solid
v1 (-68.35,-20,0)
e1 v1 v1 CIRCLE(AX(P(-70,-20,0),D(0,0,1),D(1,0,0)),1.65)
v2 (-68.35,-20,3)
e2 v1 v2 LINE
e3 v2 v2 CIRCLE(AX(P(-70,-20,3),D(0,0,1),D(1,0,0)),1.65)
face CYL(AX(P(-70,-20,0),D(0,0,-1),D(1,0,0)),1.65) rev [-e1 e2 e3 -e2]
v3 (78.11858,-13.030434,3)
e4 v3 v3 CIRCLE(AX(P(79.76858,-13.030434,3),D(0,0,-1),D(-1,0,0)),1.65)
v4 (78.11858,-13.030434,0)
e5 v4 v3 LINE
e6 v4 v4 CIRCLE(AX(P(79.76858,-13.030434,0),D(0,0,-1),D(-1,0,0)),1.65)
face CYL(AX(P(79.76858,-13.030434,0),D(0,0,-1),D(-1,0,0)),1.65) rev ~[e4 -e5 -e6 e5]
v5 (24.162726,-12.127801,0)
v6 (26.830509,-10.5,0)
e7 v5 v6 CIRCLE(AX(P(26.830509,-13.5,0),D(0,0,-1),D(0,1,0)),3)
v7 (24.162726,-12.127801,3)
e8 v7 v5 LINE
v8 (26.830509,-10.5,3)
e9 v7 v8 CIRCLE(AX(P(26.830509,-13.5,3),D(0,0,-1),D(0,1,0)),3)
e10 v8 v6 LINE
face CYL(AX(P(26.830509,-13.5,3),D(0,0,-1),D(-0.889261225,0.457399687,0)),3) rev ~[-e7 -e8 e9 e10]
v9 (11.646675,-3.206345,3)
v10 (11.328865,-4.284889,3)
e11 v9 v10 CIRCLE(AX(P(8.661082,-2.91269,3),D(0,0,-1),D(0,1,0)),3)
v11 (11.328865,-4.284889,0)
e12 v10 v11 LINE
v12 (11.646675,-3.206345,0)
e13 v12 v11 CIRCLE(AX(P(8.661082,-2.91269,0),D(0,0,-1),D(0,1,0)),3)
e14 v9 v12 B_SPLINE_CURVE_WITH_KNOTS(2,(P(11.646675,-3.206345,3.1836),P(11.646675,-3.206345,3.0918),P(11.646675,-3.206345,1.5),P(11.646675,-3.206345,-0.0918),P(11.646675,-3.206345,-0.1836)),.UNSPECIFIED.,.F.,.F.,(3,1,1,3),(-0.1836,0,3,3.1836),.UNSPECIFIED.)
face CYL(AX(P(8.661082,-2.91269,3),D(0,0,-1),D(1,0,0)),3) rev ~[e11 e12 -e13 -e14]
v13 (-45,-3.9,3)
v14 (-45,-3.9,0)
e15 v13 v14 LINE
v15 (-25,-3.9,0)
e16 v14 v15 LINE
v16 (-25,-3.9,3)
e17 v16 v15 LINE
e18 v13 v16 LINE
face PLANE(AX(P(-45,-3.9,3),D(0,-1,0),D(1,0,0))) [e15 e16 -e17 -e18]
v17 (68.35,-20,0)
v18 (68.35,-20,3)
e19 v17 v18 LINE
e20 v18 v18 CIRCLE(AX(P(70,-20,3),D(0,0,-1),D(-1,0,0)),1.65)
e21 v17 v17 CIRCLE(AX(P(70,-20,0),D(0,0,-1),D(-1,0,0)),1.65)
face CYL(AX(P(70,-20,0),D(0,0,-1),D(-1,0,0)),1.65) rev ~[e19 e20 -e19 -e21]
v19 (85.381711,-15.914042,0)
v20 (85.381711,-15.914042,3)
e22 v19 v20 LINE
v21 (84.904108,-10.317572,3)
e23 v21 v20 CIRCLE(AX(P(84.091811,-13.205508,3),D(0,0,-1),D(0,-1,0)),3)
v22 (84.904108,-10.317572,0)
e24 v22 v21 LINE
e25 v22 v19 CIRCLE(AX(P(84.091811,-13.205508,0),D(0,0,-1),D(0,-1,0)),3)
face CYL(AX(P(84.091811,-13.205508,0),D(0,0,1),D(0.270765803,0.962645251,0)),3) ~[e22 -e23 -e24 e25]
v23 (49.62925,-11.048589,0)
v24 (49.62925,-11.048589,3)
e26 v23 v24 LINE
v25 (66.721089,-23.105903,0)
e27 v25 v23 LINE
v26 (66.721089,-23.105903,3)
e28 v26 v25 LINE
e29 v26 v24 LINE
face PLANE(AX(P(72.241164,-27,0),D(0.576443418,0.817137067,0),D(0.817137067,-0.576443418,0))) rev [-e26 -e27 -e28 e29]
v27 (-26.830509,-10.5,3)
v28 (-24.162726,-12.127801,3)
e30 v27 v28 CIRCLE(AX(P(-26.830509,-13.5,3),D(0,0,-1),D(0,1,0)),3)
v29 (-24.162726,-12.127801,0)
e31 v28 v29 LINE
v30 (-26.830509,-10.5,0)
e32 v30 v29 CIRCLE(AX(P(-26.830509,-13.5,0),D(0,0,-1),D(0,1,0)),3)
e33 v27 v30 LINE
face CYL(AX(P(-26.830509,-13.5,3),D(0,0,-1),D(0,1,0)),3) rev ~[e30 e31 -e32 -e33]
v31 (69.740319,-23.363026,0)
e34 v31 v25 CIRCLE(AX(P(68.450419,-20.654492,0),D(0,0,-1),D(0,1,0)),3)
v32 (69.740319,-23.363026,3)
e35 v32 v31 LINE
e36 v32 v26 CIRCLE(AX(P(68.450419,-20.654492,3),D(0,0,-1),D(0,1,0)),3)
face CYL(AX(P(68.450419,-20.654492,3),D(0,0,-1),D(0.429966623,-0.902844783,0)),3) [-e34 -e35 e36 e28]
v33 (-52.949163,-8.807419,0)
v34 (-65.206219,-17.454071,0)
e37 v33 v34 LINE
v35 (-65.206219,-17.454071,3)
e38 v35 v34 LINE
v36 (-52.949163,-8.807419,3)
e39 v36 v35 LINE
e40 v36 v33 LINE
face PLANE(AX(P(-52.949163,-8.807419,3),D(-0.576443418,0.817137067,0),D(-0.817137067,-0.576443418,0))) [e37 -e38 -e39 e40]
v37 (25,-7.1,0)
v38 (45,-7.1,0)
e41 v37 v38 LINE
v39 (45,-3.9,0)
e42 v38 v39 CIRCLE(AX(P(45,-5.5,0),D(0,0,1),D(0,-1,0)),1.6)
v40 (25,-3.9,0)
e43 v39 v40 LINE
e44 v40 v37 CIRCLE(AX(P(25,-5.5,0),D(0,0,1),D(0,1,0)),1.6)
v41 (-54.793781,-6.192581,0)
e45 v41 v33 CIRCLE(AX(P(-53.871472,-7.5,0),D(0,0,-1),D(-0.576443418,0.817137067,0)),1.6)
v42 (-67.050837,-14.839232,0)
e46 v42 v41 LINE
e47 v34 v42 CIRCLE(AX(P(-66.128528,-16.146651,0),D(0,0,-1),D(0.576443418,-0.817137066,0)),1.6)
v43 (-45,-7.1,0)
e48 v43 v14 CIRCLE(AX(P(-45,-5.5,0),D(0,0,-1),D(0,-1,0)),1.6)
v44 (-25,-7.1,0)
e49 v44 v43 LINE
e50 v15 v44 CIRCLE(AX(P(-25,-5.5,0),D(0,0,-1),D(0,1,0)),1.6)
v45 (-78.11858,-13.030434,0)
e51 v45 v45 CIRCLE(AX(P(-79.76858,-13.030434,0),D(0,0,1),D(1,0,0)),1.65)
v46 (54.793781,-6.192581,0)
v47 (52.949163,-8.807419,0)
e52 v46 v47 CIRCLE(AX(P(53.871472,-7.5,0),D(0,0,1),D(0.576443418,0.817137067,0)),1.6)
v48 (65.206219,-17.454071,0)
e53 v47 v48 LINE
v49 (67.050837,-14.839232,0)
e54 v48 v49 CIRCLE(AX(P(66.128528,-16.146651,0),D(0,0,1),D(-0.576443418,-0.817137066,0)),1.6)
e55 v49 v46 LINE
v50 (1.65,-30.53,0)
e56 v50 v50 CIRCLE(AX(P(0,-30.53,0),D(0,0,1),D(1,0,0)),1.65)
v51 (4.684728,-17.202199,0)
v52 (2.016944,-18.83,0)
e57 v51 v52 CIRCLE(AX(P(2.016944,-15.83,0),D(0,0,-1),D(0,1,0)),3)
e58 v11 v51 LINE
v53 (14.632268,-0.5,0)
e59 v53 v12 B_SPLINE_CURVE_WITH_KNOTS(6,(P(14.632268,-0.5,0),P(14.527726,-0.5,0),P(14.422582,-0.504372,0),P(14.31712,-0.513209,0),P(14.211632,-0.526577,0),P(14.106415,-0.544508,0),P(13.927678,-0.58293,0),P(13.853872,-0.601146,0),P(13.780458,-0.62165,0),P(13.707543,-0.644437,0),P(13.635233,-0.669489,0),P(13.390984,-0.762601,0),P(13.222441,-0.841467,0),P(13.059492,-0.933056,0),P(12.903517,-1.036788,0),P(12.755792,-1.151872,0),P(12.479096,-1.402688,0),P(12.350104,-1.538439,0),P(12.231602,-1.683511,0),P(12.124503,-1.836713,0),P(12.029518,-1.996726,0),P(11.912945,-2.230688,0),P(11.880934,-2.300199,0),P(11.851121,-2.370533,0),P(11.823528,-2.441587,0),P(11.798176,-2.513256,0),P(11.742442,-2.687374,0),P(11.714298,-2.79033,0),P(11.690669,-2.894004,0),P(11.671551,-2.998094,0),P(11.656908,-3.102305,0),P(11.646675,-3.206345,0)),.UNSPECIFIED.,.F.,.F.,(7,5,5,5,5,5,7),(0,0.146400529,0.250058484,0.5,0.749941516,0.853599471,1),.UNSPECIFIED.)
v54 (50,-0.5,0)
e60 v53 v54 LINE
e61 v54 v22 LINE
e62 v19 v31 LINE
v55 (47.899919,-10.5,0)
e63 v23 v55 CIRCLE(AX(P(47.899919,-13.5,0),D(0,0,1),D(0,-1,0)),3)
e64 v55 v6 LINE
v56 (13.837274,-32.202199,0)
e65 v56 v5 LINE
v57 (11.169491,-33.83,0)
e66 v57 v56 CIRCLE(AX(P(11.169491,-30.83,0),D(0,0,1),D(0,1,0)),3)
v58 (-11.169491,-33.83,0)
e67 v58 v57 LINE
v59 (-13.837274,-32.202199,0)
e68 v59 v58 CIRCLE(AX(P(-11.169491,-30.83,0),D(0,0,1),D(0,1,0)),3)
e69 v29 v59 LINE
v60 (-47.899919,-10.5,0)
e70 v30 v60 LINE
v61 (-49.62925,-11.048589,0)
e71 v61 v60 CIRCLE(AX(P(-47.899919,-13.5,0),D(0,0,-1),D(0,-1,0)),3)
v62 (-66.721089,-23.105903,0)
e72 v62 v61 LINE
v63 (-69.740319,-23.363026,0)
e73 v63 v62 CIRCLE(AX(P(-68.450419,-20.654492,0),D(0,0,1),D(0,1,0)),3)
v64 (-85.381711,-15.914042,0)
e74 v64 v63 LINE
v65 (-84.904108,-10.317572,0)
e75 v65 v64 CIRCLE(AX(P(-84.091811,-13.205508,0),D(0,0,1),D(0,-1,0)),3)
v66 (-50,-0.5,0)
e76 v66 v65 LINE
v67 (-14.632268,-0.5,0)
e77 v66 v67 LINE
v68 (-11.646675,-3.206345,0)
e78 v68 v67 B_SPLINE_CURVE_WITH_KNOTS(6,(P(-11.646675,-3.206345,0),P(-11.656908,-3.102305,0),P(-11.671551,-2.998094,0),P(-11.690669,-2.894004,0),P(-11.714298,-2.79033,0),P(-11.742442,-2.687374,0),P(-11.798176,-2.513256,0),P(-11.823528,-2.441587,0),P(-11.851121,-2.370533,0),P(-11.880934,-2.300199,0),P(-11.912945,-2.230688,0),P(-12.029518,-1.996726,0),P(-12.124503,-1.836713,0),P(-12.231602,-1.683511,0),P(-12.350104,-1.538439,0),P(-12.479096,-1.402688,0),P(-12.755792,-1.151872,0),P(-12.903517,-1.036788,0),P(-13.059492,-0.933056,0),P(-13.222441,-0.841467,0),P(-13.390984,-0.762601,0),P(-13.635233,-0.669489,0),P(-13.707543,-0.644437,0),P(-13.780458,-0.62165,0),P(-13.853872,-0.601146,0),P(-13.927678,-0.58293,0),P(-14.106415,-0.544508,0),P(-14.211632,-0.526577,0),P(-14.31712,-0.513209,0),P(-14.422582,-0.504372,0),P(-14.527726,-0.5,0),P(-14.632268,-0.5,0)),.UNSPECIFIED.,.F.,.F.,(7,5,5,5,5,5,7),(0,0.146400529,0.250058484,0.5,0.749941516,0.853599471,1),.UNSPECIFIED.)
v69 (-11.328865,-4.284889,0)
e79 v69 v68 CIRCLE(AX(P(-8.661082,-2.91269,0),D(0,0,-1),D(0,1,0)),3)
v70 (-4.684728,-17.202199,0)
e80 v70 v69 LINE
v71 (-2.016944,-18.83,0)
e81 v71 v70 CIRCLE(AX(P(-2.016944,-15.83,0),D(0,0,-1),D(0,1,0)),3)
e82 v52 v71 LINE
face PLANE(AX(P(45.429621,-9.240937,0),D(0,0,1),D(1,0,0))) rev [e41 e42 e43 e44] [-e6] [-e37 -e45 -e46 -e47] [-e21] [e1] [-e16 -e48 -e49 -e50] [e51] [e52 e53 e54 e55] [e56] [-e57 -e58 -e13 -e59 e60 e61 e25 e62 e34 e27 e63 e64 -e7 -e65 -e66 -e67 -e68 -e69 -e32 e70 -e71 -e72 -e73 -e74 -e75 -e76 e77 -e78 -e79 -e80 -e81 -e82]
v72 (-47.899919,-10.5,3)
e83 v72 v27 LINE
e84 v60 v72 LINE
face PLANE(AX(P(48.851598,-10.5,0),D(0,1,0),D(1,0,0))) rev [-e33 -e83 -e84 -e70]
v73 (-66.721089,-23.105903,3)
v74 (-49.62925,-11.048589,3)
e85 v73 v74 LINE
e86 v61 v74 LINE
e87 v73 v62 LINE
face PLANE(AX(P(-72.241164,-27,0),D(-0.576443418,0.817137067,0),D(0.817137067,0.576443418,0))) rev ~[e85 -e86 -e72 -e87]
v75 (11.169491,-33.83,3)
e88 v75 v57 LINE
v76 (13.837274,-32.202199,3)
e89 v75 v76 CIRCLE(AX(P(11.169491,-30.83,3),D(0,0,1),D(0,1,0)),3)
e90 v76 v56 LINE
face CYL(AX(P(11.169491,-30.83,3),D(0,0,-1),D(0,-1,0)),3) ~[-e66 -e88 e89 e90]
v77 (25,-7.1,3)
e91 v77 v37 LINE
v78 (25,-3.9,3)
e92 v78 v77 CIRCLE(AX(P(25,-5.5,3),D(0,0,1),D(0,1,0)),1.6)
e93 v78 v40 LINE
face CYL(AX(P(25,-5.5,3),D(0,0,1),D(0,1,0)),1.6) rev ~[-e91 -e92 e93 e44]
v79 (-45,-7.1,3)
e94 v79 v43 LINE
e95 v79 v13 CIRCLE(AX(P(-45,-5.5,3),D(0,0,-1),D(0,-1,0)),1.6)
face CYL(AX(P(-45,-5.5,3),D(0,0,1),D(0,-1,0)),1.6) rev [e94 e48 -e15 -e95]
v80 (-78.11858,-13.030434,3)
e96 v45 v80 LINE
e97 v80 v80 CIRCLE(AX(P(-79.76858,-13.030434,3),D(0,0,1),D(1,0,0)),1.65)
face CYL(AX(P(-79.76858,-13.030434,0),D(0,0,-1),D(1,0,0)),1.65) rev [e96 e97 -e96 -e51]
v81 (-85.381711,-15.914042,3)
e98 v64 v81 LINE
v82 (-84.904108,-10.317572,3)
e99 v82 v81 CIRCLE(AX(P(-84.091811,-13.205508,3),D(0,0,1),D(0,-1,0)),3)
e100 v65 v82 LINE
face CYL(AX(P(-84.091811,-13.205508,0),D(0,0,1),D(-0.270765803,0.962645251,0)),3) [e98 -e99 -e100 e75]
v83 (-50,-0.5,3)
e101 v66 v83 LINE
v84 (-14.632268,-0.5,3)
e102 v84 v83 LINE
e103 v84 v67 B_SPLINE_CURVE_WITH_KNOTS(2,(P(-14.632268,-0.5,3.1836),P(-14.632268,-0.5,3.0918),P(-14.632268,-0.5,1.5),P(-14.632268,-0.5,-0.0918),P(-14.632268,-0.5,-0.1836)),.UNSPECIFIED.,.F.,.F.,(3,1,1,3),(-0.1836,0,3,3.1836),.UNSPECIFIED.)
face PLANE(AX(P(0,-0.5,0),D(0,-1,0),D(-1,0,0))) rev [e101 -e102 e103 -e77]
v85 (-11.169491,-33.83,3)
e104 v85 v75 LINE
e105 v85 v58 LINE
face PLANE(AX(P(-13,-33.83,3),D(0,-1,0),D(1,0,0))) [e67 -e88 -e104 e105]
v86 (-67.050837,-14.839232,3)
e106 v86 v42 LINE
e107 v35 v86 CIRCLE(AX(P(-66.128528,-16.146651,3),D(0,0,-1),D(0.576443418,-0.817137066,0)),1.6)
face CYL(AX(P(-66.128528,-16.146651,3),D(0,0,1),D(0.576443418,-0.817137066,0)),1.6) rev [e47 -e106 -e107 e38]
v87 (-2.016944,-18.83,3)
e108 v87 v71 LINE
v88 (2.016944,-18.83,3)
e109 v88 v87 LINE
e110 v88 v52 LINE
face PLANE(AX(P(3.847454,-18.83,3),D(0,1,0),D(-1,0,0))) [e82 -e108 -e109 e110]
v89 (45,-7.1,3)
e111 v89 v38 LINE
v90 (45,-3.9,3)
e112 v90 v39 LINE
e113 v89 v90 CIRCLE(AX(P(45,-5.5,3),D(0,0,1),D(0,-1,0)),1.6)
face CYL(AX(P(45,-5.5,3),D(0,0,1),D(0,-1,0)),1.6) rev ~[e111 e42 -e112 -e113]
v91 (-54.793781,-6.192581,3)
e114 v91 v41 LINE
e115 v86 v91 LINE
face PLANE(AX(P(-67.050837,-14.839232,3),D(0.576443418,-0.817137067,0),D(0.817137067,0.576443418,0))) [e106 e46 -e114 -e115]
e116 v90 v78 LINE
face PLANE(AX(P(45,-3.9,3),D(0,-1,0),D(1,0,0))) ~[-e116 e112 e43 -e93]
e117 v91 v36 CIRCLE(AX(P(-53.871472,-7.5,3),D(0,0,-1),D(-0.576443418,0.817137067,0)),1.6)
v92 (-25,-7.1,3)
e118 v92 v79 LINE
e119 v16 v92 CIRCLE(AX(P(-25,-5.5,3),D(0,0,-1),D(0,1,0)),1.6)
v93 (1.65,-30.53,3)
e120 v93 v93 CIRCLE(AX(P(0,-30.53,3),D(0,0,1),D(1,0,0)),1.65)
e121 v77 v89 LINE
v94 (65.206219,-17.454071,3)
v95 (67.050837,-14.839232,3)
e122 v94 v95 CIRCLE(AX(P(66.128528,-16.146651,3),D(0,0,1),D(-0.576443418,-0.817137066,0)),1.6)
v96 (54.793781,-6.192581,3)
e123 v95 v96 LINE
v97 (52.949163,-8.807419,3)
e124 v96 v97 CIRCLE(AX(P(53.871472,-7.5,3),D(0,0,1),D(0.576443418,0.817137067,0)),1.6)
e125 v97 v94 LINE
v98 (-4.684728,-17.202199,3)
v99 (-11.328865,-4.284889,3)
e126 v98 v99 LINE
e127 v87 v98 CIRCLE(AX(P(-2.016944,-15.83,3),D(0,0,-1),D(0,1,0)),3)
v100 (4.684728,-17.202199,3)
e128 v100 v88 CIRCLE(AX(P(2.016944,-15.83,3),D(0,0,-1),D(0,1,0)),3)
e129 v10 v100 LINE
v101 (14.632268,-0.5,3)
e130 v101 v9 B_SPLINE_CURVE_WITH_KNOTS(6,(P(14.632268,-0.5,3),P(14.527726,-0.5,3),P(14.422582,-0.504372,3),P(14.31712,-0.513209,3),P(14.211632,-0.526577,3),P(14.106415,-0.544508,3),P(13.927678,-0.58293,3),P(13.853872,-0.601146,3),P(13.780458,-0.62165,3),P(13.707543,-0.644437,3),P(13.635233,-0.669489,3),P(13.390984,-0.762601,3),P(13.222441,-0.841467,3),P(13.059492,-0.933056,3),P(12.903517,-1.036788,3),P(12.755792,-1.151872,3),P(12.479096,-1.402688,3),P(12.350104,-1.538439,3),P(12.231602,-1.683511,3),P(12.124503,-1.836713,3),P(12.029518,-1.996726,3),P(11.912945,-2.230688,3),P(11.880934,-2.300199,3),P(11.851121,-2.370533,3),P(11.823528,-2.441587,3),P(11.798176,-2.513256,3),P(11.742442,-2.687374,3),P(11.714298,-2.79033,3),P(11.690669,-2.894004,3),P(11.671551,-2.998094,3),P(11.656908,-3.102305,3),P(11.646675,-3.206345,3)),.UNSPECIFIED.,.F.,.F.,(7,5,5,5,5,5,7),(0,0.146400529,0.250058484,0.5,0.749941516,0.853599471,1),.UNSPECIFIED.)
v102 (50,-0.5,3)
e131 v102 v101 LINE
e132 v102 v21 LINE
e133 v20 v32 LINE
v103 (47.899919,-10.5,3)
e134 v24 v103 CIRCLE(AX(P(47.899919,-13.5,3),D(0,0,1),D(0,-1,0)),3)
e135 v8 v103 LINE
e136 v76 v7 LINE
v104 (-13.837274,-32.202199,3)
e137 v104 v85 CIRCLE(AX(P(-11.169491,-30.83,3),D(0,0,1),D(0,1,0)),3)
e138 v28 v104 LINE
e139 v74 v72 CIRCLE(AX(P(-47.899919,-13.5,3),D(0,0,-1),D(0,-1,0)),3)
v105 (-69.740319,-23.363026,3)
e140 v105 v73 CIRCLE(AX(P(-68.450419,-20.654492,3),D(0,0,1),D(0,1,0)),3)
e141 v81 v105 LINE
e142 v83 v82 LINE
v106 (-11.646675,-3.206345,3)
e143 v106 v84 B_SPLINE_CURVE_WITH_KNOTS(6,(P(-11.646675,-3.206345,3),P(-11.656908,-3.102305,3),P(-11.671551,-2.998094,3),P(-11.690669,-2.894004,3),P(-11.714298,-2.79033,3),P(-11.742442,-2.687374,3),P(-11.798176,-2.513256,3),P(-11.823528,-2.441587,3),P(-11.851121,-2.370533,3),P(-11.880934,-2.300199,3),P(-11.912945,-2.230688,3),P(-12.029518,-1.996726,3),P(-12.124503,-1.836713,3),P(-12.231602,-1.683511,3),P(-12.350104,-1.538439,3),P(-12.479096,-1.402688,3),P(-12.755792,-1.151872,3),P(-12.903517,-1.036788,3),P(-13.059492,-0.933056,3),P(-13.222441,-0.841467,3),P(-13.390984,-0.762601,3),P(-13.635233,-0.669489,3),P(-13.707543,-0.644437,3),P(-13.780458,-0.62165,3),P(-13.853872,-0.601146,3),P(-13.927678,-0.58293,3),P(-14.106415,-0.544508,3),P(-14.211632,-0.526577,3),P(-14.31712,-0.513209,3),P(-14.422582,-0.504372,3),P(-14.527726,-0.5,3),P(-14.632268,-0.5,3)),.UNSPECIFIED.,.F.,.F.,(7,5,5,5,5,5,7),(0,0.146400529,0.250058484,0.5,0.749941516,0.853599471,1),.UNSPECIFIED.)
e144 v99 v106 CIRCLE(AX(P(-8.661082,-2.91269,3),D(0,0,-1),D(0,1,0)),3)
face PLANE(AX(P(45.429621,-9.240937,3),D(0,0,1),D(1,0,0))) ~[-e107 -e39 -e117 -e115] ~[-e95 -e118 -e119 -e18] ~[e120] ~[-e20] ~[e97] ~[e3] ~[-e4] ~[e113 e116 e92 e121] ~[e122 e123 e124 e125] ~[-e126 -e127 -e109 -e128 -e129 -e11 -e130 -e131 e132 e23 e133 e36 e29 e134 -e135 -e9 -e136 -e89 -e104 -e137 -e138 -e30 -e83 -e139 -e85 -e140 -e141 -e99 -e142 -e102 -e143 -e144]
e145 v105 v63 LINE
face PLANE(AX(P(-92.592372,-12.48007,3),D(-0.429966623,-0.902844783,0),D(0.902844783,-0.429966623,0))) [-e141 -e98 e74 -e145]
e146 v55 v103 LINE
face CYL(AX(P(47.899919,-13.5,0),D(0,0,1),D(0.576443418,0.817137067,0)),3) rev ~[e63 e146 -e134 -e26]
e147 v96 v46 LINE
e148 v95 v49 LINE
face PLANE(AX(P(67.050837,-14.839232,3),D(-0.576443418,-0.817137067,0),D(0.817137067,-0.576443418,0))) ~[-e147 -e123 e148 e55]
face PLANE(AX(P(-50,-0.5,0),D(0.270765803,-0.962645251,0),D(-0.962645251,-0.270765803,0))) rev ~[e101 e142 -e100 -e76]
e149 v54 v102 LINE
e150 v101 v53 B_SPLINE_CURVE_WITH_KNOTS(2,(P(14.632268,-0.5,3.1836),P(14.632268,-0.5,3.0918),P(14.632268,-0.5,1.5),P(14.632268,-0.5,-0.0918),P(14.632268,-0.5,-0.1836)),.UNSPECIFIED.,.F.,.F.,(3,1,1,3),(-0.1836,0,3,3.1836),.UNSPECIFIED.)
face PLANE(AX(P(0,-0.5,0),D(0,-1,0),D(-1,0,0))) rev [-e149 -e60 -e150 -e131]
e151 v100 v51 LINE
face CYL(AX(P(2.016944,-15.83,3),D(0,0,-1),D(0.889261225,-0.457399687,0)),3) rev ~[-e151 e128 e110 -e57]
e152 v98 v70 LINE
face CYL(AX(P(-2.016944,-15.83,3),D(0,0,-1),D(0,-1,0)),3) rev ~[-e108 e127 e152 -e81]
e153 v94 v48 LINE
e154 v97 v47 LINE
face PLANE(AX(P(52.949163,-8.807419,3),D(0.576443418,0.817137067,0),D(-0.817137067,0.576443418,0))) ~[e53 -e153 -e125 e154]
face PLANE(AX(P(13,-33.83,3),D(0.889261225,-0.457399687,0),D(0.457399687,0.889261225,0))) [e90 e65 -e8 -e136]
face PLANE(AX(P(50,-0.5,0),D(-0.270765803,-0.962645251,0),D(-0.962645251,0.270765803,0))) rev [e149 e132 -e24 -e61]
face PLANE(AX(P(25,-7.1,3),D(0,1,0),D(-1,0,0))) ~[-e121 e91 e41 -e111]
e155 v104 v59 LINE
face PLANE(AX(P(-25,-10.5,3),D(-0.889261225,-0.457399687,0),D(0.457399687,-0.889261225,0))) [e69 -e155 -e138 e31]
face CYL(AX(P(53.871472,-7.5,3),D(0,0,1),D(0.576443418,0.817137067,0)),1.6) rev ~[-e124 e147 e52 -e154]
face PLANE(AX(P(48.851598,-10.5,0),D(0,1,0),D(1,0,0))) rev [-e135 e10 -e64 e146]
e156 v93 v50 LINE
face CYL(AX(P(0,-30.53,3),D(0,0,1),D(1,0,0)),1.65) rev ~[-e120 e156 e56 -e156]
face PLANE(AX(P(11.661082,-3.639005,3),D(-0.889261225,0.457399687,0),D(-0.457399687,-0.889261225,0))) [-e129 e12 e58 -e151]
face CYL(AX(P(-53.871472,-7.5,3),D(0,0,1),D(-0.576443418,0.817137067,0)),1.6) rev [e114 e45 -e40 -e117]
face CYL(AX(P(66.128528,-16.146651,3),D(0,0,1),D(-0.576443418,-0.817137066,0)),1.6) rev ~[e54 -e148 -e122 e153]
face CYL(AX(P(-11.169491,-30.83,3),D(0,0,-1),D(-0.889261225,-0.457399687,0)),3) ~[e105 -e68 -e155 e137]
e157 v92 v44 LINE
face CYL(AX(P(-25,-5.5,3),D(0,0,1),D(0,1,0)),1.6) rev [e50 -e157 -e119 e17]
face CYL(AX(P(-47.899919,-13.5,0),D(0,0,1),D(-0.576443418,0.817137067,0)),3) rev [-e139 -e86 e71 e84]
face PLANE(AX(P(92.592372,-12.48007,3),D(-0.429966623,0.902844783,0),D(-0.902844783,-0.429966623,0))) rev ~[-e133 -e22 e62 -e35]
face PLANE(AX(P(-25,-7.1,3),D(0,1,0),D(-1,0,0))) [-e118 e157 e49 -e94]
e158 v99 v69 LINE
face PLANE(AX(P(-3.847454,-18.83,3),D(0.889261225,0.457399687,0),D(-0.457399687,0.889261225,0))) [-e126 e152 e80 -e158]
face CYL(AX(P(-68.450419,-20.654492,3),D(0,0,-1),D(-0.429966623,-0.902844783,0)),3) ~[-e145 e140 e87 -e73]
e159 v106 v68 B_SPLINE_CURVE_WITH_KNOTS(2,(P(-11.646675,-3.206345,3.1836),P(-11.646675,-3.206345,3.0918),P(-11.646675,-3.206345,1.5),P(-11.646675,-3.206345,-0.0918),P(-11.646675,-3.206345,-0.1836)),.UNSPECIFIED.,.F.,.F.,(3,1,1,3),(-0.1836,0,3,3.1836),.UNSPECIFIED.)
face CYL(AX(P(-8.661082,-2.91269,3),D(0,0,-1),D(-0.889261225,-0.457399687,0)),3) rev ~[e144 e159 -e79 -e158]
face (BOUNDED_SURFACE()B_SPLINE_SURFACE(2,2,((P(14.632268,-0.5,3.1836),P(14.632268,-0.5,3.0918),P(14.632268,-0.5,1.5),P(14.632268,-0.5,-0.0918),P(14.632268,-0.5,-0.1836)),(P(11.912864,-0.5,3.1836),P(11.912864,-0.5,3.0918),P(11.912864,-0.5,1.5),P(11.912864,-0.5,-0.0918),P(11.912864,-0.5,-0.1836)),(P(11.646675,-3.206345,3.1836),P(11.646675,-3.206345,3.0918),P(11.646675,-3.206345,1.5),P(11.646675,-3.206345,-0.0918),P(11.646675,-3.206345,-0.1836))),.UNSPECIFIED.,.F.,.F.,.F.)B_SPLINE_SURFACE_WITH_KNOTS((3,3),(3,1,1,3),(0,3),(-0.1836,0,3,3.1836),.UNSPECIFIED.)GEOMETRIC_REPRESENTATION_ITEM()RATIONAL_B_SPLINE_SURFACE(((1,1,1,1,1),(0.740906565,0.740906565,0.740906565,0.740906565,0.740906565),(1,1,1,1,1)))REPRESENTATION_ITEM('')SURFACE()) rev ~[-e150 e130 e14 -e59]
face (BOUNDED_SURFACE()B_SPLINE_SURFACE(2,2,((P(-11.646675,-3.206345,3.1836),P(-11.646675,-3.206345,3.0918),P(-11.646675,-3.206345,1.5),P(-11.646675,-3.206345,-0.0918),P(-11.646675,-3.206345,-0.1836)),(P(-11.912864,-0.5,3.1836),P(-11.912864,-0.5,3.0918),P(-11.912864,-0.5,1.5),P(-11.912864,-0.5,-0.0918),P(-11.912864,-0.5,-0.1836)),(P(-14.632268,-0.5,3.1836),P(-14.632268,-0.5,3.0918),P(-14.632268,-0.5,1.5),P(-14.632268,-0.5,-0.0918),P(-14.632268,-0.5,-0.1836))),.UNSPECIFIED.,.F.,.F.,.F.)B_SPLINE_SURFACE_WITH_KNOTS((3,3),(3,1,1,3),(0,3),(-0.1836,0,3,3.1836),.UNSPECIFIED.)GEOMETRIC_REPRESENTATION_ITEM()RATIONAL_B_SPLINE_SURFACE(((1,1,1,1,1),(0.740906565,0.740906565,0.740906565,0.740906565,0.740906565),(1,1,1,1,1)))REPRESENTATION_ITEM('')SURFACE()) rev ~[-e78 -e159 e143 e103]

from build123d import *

# Parameters (mm, degrees)
SKETCH_1_R          = 1.65
EXTRUDE_1_DEPTH     = 3
CUT_EXTRUDE_1_DEPTH = 3
EXTRUDE_2_DEPTH     = 3
CUT_EXTRUDE_2_DEPTH = 3
FILLET_1_R          = 3
FILLET_2_R          = 3
SKETCH_7_R          = 1.65
CUT_EXTRUDE_4_DEPTH = 10
CUT_EXTRUDE_3_DEPTH = 3


with BuildPart() as part:
    # 草图1 → 凸台-拉伸1 (new body)
    with BuildSketch(Plane.XY):
        Polygon((-92.59237164, -12.480070197), (-72.241164341, -27), (-48.851597939, -10.5), (0, -10.5), (0, -0.5), (-50, -0.5), align=None)
        with Locations((-79.768579503, -13.030433694)):
            Circle(SKETCH_1_R, mode=Mode.SUBTRACT)
        with Locations((-70, -20)):
            Circle(SKETCH_1_R, mode=Mode.SUBTRACT)
    extrude(amount=EXTRUDE_1_DEPTH)

    # 镜向1: part across plane


with BuildPart() as part_1:
    add(part.part)
    add(part.part.mirror(Plane(origin=(0, -0.5, 3), x_dir=(0, 0, 1), z_dir=(-1, 0, 0))))

    # 草图2 → 切除-拉伸1 (cut)
    with BuildSketch(Plane.XY.offset(3)):
        Polygon((-92.59237164, -12.480070197), (-68.155479007, -24.11778291), (-72.241164341, -27), align=None)
        Polygon((92.59237164, -12.480070197), (68.155479007, -24.11778291), (72.241164341, -27), align=None)
    extrude(amount=-CUT_EXTRUDE_1_DEPTH, mode=Mode.SUBTRACT)

    # 草图3 → 凸台-拉伸2 (add)
    with BuildSketch(Plane.XY.offset(3)):
        Polygon((-25, -10.5), (-13, -33.83), (13, -33.83), (25, -10.5), align=None)
    extrude(amount=-EXTRUDE_2_DEPTH)

    # 草图4 → 切除-拉伸2 (cut)
    with BuildSketch(Plane.XY.offset(3)):
        Polygon((-11.661081625, -3.639004694), (-11.661081625, -0.5), (11.661081625, -0.5), (11.661081625, -3.639004694), (3.847453521, -18.83), (-3.847453521, -18.83), align=None)
    extrude(amount=-CUT_EXTRUDE_2_DEPTH, mode=Mode.SUBTRACT)

    # 圆角1
    fillet_1_edges = [part_1.edges().sort_by_distance(p)[0] for p in [
        (-48.851597939, -10.5, 1.5),
        (-92.59237164, -12.480070197, 1.5),
        (92.59237164, -12.480070197, 1.5),
        (48.851597939, -10.5, 1.5),
        (-68.155479007, -24.11778291, 1.5),
        (68.155479007, -24.11778291, 1.5),
        (-13, -33.83, 1.5),
        (13, -33.83, 1.5),
        (25, -10.5, 1.5),
        (-25, -10.5, 1.5),
        (11.661081625, -3.639004694, 1.5),
        (3.847453521, -18.83, 1.5),
        (-3.847453521, -18.83, 1.5),
        (-11.661081625, -3.639004694, 1.5),
    ]]
    fillet(fillet_1_edges, radius=FILLET_1_R)

    # 圆角2
    fillet_2_edges = [part_1.edges().sort_by_distance(p)[0] for p in [
        (11.661081625, -0.5, 1.5),
        (-11.661081625, -0.5, 1.5),
    ]]
    fillet(fillet_2_edges, radius=FILLET_2_R)

    # 草图7 → 切除-拉伸4 (cut)
    with BuildSketch(Plane.XY.offset(3)):
        with Locations((0, -30.53)):
            Circle(SKETCH_7_R)
    extrude(amount=-CUT_EXTRUDE_4_DEPTH, mode=Mode.SUBTRACT)

    # 草图5 → 切除-拉伸3 (cut)
    with BuildSketch(Plane.XY.offset(3)):
        with BuildLine():
            Line((-45, -3.9), (-25, -3.9))
            ThreePointArc((-25, -3.9), (-23.4, -5.5), (-25, -7.1))
            Line((-25, -7.1), (-45, -7.1))
            ThreePointArc((-45, -7.1), (-46.6, -5.5), (-45, -3.9))
        make_face()
        with BuildLine():
            Line((-67.050837469, -14.839231963), (-54.793781468, -6.192580693))
            ThreePointArc((-54.793781468, -6.192580693), (-52.564052692, -6.577690531), (-52.949162531, -8.807419307))
            Line((-52.949162531, -8.807419307), (-65.206218532, -17.454070576))
            ThreePointArc((-65.206218532, -17.454070576), (-67.435947308, -17.068960738), (-67.050837469, -14.839231963))
        make_face()
    cut_extrude_3 = extrude(amount=-CUT_EXTRUDE_3_DEPTH, mode=Mode.SUBTRACT)

    # 镜向2: 切除-拉伸3 across plane
    add(cut_extrude_3.mirror(Plane(origin=(0, 0, 0), x_dir=(0, 0, 1), z_dir=(1, 0, 0))), mode=Mode.SUBTRACT)


solid = part_1.part
